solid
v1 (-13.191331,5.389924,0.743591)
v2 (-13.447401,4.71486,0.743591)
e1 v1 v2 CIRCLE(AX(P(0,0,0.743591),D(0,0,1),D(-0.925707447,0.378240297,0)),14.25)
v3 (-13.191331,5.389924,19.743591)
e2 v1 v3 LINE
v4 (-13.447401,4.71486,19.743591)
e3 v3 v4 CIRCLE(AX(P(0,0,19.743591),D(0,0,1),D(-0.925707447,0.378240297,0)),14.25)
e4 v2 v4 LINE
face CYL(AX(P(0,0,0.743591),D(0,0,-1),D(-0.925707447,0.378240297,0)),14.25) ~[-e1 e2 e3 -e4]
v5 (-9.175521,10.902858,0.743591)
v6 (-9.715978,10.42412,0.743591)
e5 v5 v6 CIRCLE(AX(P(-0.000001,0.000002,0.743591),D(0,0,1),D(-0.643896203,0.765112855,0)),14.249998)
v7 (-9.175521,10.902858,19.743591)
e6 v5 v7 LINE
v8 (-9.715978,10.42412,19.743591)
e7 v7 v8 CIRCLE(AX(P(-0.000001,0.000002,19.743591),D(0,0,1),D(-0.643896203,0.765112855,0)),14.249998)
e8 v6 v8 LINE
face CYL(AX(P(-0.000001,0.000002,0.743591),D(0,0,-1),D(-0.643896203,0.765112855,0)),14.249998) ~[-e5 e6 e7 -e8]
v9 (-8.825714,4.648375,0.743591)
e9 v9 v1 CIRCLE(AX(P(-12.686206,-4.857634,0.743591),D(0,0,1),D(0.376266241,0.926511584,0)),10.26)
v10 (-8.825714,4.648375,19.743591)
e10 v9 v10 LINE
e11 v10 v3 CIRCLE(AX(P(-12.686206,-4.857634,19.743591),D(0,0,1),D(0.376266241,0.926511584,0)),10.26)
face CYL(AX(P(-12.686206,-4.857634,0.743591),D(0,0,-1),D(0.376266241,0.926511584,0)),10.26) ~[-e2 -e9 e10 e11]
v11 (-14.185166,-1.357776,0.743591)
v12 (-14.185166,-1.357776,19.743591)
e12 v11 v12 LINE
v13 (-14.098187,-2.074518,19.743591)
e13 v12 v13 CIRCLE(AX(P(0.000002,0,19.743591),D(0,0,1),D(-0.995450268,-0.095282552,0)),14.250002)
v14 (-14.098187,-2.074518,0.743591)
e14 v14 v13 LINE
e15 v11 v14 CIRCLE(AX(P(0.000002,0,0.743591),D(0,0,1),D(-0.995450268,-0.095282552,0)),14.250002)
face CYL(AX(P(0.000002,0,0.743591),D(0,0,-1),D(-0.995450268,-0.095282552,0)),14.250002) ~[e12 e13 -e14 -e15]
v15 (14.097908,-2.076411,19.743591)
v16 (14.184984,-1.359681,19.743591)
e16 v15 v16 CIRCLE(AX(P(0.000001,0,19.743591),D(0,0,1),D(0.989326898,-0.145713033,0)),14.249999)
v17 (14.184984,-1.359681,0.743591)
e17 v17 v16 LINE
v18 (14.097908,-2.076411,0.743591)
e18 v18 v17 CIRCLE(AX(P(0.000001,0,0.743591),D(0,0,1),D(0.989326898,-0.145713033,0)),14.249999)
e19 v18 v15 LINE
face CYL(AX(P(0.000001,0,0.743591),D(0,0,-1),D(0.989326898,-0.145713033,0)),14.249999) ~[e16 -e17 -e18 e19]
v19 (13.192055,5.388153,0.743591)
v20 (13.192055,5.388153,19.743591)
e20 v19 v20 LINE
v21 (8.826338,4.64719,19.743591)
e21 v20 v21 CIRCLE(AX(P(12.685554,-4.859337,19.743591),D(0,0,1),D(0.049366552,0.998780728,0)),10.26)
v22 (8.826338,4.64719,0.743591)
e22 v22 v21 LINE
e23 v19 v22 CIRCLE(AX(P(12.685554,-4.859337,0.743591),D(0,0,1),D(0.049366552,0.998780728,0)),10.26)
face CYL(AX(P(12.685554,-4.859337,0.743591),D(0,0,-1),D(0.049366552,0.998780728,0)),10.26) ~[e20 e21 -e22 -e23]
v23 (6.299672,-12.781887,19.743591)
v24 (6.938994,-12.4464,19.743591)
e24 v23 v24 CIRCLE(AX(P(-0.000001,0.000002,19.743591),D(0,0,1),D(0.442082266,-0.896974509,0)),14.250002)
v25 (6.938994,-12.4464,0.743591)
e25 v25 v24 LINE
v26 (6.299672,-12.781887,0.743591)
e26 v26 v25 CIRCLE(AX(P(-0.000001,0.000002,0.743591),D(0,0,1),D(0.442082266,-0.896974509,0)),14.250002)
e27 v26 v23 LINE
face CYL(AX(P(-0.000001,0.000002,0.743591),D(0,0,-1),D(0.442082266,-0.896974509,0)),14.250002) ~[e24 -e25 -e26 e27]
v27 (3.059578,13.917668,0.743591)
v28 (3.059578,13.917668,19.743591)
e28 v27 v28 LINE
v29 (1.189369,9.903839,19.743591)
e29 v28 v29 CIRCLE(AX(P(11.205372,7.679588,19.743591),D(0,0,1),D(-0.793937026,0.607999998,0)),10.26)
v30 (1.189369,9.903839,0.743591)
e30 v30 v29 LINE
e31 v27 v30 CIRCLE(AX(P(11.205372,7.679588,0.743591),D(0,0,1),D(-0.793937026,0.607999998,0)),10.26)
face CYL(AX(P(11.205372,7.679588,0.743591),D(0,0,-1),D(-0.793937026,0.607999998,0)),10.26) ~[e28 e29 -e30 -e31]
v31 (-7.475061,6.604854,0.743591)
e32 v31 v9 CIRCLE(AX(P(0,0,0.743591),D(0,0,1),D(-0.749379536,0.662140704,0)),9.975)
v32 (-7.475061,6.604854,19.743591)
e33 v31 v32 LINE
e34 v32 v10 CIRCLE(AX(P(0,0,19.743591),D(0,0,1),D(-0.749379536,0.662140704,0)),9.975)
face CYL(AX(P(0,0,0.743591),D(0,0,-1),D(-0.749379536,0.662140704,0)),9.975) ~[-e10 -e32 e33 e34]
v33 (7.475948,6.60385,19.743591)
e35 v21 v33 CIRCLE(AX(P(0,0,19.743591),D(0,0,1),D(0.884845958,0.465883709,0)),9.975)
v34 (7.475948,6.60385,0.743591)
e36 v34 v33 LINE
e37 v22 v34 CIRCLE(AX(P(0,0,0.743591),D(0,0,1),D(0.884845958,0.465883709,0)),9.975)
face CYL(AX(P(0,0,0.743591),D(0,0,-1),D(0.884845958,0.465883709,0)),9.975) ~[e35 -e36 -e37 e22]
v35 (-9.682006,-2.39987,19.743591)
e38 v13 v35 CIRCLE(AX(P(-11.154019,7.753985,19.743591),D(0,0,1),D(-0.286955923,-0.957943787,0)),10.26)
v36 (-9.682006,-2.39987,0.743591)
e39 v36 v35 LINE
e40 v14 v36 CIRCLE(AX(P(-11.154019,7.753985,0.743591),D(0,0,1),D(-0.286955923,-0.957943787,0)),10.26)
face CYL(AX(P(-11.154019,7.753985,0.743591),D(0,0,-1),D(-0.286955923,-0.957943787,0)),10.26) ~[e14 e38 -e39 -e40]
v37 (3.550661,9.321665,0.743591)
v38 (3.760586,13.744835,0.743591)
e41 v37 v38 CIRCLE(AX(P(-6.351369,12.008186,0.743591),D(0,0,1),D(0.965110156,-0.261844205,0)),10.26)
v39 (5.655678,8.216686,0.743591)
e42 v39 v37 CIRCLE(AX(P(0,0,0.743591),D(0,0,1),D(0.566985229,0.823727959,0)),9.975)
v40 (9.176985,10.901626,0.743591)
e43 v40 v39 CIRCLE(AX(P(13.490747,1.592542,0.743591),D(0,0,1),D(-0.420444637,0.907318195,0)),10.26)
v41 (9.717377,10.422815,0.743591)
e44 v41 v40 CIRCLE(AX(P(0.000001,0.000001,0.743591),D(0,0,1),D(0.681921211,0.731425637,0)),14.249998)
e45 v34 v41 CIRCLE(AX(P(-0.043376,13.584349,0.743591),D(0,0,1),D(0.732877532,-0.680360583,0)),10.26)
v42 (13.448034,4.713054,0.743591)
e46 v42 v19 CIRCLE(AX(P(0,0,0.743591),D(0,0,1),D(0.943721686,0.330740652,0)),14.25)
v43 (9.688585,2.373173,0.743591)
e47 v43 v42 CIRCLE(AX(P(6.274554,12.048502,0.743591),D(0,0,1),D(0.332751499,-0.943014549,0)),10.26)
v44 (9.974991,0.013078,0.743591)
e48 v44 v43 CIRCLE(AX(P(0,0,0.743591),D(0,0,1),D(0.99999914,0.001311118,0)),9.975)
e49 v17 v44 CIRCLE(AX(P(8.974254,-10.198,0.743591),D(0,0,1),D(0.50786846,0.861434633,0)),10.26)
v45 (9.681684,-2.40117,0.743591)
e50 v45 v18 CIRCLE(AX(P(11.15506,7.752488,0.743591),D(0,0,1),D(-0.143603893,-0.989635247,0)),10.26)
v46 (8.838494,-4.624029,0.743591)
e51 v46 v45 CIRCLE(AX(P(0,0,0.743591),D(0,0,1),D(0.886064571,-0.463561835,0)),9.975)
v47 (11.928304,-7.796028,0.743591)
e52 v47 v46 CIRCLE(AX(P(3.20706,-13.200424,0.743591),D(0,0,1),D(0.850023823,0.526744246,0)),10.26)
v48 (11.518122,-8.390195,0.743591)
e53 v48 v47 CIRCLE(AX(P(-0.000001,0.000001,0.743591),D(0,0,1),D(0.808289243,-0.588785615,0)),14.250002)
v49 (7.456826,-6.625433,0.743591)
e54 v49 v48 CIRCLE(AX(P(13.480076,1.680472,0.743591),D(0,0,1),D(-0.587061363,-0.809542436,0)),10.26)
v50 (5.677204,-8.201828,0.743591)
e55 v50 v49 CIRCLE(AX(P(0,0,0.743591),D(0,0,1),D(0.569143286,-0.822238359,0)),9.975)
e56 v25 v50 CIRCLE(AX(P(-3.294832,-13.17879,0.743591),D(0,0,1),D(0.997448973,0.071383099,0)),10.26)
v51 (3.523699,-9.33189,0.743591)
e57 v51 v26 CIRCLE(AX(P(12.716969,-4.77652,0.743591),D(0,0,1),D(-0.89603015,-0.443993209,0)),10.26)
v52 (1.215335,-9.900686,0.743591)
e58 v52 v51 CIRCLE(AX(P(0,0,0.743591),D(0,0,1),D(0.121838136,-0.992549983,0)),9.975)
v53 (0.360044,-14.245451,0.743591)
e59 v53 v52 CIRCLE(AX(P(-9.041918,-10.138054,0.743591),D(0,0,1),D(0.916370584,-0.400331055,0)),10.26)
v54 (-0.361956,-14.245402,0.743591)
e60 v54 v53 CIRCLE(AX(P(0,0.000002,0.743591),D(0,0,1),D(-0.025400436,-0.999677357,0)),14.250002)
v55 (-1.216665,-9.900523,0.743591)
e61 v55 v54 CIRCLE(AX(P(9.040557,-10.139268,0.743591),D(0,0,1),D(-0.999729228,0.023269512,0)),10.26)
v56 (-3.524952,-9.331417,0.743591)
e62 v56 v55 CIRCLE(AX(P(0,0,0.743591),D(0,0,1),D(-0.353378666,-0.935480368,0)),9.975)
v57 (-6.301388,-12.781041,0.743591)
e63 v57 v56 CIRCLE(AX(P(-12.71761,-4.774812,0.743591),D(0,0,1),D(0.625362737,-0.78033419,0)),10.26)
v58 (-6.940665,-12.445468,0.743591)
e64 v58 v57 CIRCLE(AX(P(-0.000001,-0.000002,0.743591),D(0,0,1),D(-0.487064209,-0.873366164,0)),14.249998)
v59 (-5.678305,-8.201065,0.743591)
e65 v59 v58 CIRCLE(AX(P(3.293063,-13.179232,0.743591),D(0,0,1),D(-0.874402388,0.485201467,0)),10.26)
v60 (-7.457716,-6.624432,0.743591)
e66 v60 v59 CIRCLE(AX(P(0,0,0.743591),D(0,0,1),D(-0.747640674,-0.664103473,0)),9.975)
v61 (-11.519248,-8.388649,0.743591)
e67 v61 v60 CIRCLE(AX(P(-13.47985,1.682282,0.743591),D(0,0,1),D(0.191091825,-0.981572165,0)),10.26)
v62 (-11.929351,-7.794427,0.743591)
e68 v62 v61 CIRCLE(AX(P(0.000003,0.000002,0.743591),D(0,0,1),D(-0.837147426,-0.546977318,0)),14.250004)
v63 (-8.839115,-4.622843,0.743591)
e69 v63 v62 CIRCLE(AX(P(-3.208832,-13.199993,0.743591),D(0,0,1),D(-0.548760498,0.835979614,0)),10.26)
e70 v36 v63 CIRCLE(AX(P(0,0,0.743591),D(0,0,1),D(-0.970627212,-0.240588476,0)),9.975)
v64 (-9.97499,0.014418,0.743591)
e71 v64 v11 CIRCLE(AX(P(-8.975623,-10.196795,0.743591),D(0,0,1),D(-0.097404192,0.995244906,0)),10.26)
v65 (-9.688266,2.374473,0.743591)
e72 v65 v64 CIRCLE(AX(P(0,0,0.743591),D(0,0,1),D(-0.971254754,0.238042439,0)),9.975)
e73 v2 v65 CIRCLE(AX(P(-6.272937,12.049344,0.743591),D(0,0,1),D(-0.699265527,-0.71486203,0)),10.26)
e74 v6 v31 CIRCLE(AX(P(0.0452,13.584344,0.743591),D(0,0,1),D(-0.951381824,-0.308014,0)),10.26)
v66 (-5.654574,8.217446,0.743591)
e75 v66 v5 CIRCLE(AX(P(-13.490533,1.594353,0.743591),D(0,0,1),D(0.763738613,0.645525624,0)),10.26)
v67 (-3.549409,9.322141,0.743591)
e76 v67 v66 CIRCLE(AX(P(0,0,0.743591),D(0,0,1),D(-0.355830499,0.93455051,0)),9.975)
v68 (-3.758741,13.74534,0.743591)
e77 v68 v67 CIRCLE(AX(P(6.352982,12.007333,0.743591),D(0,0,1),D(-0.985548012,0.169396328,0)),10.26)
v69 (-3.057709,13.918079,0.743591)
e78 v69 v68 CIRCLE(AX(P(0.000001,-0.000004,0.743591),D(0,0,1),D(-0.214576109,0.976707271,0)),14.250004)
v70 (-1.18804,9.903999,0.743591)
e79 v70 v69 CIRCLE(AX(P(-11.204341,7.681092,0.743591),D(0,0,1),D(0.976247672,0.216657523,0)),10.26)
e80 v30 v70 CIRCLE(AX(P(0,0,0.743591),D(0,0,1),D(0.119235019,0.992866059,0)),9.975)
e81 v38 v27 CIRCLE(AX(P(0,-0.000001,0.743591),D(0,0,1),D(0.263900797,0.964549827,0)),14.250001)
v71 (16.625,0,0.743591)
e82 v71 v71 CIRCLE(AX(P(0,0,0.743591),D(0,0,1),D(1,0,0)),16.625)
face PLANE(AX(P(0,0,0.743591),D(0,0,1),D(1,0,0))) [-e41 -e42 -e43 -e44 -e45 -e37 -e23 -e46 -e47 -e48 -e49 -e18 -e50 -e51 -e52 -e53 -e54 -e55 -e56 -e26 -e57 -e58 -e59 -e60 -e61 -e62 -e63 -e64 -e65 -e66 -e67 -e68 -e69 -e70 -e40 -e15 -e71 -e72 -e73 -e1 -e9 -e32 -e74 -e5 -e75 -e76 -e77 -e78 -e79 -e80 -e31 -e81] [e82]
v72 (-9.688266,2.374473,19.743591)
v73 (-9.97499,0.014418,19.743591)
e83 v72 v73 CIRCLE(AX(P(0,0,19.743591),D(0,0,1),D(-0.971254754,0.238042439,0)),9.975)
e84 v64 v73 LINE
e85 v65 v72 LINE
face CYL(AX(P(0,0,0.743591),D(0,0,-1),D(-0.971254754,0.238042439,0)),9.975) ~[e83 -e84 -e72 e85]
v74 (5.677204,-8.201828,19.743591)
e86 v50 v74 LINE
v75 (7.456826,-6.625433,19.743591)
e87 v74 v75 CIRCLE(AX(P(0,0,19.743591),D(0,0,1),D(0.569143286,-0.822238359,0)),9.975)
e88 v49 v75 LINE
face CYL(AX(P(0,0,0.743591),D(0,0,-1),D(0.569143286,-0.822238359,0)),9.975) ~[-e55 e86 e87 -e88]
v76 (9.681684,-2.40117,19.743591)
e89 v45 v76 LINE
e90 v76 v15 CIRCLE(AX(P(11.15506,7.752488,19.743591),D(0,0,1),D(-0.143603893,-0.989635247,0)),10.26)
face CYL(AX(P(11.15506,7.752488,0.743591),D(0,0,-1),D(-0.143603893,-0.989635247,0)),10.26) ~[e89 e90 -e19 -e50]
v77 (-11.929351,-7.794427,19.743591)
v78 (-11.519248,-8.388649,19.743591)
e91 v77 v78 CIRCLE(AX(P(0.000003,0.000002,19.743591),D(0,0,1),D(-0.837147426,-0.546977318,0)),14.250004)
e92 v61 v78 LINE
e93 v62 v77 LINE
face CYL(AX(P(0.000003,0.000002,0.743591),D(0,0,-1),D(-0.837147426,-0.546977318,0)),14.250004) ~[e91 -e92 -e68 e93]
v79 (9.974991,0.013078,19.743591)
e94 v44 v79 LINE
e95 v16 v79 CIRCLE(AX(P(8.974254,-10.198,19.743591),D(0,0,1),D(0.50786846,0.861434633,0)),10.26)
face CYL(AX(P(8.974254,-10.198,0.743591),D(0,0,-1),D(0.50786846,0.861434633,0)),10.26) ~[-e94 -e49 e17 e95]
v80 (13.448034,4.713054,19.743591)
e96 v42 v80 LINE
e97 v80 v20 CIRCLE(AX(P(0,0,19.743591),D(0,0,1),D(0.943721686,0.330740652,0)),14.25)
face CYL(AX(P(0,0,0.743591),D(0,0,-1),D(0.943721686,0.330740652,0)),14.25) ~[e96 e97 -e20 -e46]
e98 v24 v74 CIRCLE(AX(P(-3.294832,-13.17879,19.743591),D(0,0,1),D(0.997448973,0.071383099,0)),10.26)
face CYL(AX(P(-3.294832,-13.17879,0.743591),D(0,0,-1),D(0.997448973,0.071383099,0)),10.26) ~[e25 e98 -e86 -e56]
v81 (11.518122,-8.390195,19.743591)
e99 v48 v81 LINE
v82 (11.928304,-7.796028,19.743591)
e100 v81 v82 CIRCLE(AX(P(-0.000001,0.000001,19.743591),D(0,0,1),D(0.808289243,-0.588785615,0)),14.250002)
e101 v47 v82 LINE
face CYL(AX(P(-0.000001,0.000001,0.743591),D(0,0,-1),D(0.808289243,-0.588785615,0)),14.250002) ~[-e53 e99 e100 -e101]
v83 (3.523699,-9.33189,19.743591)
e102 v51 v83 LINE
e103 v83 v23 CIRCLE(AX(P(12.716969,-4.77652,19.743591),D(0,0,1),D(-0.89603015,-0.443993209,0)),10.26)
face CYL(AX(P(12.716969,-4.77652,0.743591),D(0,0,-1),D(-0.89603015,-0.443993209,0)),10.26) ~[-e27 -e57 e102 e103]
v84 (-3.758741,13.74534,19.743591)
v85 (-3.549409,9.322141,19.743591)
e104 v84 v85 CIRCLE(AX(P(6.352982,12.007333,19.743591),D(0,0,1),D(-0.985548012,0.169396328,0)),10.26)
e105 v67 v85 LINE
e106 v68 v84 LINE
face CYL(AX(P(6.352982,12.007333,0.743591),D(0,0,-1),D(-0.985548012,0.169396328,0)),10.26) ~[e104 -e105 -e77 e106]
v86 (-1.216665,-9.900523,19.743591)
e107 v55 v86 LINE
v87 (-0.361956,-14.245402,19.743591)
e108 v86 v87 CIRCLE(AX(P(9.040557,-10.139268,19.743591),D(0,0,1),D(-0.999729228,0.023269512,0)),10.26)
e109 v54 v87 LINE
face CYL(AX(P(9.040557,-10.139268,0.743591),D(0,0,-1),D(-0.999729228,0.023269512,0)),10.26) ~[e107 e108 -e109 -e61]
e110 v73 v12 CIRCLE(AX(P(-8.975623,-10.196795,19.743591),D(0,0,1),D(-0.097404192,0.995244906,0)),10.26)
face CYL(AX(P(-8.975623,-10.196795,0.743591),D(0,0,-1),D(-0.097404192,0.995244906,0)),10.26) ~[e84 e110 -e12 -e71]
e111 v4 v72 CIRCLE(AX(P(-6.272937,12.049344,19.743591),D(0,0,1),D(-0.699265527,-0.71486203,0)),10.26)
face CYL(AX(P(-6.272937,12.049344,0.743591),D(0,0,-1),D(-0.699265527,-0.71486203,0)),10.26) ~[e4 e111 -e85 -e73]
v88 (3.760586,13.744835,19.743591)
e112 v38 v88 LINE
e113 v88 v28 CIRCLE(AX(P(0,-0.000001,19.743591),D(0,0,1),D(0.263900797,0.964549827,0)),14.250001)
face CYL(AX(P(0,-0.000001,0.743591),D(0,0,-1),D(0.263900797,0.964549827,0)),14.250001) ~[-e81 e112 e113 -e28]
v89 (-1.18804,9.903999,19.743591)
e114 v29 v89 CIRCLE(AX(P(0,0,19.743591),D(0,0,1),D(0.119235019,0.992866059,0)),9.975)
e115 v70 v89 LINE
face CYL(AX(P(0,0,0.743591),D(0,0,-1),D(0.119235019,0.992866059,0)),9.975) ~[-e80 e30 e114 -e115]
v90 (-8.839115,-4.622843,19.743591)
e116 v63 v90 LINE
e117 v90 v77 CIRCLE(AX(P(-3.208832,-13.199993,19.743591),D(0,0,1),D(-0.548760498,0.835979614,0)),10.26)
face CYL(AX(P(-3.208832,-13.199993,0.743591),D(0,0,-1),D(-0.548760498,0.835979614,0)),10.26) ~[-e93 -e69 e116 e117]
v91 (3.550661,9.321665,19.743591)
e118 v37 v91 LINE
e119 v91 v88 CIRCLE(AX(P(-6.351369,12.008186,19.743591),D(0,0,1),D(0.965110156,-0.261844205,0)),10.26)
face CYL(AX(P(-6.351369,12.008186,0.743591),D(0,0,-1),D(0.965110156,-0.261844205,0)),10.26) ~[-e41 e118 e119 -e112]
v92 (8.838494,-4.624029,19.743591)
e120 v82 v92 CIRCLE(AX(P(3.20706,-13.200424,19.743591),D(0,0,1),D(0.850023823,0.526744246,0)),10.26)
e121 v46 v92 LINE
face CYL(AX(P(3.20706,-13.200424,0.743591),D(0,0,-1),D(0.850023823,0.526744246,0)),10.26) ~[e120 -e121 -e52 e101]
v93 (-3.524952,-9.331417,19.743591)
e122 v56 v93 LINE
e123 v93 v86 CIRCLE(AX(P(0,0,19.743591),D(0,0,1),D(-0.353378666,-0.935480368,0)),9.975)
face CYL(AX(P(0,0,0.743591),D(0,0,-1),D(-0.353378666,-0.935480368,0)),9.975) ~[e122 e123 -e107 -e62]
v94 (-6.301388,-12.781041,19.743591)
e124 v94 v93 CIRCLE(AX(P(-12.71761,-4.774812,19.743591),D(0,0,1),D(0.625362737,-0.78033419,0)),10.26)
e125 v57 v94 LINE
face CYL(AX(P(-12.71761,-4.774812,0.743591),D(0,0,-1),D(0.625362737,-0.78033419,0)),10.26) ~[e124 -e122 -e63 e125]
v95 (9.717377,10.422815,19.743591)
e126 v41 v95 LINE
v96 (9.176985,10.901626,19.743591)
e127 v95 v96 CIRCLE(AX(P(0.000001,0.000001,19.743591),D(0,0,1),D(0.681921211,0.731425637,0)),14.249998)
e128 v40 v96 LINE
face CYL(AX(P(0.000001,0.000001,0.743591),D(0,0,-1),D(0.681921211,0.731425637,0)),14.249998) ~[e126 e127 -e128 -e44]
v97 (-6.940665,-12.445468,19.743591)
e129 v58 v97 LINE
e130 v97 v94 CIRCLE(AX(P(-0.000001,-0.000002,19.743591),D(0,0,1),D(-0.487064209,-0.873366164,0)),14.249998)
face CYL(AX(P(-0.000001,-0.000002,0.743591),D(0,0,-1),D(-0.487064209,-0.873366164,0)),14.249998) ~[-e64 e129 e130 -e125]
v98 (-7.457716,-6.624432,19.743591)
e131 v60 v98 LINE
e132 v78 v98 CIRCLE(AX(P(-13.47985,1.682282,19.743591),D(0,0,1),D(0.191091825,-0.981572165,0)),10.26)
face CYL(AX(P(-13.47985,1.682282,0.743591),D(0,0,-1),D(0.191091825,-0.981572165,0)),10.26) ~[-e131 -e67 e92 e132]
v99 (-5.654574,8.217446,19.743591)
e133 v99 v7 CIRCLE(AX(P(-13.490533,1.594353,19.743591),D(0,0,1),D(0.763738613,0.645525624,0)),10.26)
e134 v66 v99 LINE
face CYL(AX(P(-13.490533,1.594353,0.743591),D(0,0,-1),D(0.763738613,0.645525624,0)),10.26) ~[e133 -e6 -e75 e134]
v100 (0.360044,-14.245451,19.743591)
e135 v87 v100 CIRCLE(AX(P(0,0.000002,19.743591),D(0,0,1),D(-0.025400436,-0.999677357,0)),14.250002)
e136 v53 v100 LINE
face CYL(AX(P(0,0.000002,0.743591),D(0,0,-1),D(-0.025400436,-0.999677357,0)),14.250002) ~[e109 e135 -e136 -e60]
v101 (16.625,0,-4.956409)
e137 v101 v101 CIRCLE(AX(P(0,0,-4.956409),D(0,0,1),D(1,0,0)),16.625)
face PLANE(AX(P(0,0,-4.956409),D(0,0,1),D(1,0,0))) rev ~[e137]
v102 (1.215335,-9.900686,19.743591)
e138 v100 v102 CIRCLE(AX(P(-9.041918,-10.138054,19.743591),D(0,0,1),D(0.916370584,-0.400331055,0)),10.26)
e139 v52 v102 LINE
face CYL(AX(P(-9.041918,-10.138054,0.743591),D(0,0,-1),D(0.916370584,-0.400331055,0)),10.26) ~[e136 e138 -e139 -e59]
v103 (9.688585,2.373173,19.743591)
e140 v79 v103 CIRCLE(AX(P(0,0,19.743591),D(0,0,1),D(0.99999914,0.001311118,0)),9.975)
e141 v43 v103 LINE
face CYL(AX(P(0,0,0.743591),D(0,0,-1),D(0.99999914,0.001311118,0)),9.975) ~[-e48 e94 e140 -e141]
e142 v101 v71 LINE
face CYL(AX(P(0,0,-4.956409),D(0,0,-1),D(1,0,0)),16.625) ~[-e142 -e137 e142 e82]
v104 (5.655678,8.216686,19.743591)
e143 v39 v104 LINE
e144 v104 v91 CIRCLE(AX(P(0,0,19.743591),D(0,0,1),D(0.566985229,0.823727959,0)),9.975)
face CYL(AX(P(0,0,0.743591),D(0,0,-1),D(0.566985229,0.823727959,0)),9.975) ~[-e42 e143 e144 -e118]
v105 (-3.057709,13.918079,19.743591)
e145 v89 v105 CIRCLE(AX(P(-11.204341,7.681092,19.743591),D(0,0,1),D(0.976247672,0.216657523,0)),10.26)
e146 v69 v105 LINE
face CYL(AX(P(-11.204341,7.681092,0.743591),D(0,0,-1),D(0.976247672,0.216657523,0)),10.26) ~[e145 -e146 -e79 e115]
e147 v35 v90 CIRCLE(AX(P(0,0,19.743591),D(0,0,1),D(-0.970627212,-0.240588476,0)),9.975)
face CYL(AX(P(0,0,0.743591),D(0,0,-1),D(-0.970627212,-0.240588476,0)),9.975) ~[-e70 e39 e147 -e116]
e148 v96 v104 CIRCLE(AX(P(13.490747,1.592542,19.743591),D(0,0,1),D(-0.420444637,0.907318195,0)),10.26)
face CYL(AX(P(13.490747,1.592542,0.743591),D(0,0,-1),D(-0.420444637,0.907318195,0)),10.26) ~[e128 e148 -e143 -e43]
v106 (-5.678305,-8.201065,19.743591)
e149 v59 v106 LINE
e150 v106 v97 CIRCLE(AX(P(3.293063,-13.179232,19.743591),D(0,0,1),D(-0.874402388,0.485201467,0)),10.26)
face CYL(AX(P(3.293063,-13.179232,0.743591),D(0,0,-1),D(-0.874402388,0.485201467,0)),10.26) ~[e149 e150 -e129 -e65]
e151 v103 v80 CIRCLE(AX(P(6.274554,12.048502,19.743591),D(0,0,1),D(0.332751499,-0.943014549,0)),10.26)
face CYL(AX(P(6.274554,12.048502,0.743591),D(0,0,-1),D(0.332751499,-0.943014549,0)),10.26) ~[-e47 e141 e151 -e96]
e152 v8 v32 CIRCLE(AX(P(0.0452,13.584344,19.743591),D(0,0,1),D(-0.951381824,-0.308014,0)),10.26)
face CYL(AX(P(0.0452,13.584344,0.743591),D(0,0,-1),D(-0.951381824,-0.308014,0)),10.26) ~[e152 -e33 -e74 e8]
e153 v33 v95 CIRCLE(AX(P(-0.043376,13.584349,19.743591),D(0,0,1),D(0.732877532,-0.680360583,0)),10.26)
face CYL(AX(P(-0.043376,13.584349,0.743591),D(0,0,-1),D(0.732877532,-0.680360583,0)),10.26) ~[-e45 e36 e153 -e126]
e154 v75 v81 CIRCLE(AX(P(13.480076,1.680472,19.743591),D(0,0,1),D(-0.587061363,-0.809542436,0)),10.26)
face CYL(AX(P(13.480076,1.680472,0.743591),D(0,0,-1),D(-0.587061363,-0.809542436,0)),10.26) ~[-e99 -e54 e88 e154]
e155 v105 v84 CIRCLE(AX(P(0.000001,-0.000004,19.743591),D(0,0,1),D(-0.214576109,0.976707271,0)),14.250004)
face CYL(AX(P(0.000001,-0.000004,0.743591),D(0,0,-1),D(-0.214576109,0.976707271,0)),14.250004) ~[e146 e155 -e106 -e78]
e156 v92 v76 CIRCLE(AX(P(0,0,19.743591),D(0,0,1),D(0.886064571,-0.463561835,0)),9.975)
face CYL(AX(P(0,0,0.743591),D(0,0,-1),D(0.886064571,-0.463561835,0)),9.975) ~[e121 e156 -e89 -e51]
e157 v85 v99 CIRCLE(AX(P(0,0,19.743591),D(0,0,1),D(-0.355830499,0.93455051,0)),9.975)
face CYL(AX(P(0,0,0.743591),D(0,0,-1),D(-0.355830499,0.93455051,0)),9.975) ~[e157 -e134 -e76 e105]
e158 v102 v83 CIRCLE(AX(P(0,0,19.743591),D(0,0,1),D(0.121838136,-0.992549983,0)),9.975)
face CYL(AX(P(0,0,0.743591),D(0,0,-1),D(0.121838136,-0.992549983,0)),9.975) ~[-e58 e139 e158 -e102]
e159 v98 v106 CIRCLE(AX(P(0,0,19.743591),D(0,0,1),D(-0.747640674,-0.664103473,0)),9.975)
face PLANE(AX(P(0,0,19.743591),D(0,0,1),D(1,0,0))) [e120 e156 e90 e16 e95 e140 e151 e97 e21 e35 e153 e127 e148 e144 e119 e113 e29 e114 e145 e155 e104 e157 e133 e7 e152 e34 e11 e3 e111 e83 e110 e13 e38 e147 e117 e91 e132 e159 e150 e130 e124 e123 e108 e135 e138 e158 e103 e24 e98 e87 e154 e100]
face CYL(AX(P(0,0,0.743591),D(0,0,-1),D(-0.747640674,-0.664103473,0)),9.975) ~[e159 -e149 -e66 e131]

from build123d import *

# Parameters (mm, degrees)
SKETCH1_R           = 8.75
BOSS_EXTRUDE1_DEPTH = 3
BOSS_EXTRUDE2_DEPTH = 10
SCALE1_SCALE        = 1.9


with BuildPart() as part:
    # Sketch1 → Boss-Extrude1 (new body)
    with BuildSketch(Plane.XY):
        Circle(SKETCH1_R)
    extrude(amount=BOSS_EXTRUDE1_DEPTH)

    # Sketch2 → Boss-Extrude2 (add)
    with BuildSketch(Plane.XY.offset(3)):
        with BuildLine():
            ThreePointArc((4.829991895, 5.737697996), (3.826186326, 5.132311911), (2.976672459, 4.324571779))
            ThreePointArc((2.976672459, 4.324571779), (2.440108702, 4.648480345), (1.868768811, 4.906139331))
            ThreePointArc((1.868768811, 4.906139331), (2.051102492, 6.064099762), (1.979255999, 7.234123699))
            ThreePointArc((1.979255999, 7.234123699), (1.795356309, 7.281943128), (1.610304214, 7.325088418))
            ThreePointArc((1.610304214, 7.325088418), (1.002815466, 6.322553954), (0.62598385, 5.212546807))
            ThreePointArc((0.62598385, 5.212546807), (0.000352422, 5.249999988), (-0.625284028, 5.212630803))
            ThreePointArc((-0.625284028, 5.212630803), (-1.001966616, 6.322688531), (-1.609320762, 7.325304546))
            ThreePointArc((-1.609320762, 7.325304546), (-1.794378647, 7.2821841), (-1.978284756, 7.234389361))
            ThreePointArc((-1.978284756, 7.234389361), (-2.050288332, 6.06437508), (-1.868110115, 4.90639018))
            ThreePointArc((-1.868110115, 4.90639018), (-2.439484593, 4.648807903), (-2.976091832, 4.324971377))
            ThreePointArc((-2.976091832, 4.324971377), (-3.825497247, 5.132825554), (-4.82922153, 5.738346401))
            ThreePointArc((-4.82922153, 5.738346401), (-4.97304308, 5.614164455), (-5.113672529, 5.486378884))
            ThreePointArc((-5.113672529, 5.486378884), (-4.633695781, 4.41692096), (-3.934242565, 3.476238691))
            ThreePointArc((-3.934242565, 3.476238691), (-4.320465088, 2.982629951), (-4.645112863, 2.44651313))
            ThreePointArc((-4.645112863, 2.44651313), (-5.772652562, 2.7670941), (-6.942805845, 2.83680225))
            ThreePointArc((-6.942805845, 2.83680225), (-7.012443275, 2.66000739), (-7.077579552, 2.481505124))
            ThreePointArc((-7.077579552, 2.481505124), (-6.15557937, 1.757603477), (-5.099087457, 1.249722811))
            ThreePointArc((-5.099087457, 1.249722811), (-5.211679097, 0.633167423), (-5.249994516, 0.007588209))
            ThreePointArc((-5.249994516, 0.007588209), (-6.397362742, -0.232545265), (-7.46587701, -0.71461911))
            ThreePointArc((-7.46587701, -0.71461911), (-7.445377224, -0.90352531), (-7.420098394, -1.091851556))
            ThreePointArc((-7.420098394, -1.091851556), (-6.267293907, -1.304359781), (-5.095792863, -1.263089504))
            ThreePointArc((-5.095792863, -1.263089504), (-4.908960234, -1.861346132), (-4.652165695, -2.43307508))
            ThreePointArc((-4.652165695, -2.43307508), (-5.556514215, -3.178911313), (-6.278605726, -4.102329843))
            ThreePointArc((-6.278605726, -4.102329843), (-6.172664978, -4.260071251), (-6.062762116, -4.415078202))
            ThreePointArc((-6.062762116, -4.415078202), (-4.94324694, -4.067509932), (-3.925113535, -3.486543236))
            ThreePointArc((-3.925113535, -3.486543236), (-3.48165774, -3.92944772), (-2.988581778, -4.316350189))
            ThreePointArc((-2.988581778, -4.316350189), (-3.442735244, -5.397027088), (-3.652981535, -6.550246247))
            ThreePointArc((-3.652981535, -6.550246247), (-3.485869574, -6.640686208), (-3.316520101, -6.726863639))
            ThreePointArc((-3.316520101, -6.726863639), (-2.486761671, -5.898842577), (-1.855237999, -4.91127193))
            ThreePointArc((-1.855237999, -4.91127193), (-1.256749416, -5.09736019), (-0.640349792, -5.210801488))
            ThreePointArc((-0.640349792, -5.210801488), (-0.540267119, -6.378748999), (-0.190503298, -7.497580176))
            ThreePointArc((-0.190503298, -7.497580176), (-0.00050346, -7.499999983), (0.189496701, -7.497605685))
            ThreePointArc((0.189496701, -7.497605685), (0.539410728, -6.378821476), (0.639650205, -5.210887412))
            ThreePointArc((0.639650205, -5.210887412), (1.256065053, -5.09752887), (1.854578614, -4.911520962))
            ThreePointArc((1.854578614, -4.911520962), (2.485969693, -5.899176387), (3.315616949, -6.727308842))
            ThreePointArc((3.315616949, -6.727308842), (3.48497799, -6.641154147), (3.652102092, -6.550736623))
            ThreePointArc((3.652102092, -6.550736623), (3.44201063, -5.397489248), (2.988002255, -4.316751385))
            ThreePointArc((2.988002255, -4.316751385), (3.481130156, -3.929915118), (3.92464541, -3.487070175))
            ThreePointArc((3.92464541, -3.487070175), (4.942700807, -4.068173557), (6.06216931, -4.415892125))
            ThreePointArc((6.06216931, -4.415892125), (6.172092982, -4.260899931), (6.278054907, -4.103172747))
            ThreePointArc((6.278054907, -4.103172747), (5.556087377, -3.17965728), (4.651838998, -2.433699639))
            ThreePointArc((4.651838998, -2.433699639), (4.908710292, -1.862005173), (5.09562324, -1.263773634))
            ThreePointArc((5.09562324, -1.263773634), (6.267118732, -1.305201192), (7.41995174, -1.092847739))
            ThreePointArc((7.41995174, -1.092847739), (7.445255854, -0.904524889), (7.465781001, -0.715621443))
            ThreePointArc((7.465781001, -0.715621443), (6.397331464, -0.233404148), (5.249995488, 0.006883365))
            ThreePointArc((5.249995488, 0.006883365), (5.211764057, 0.632467717), (5.099255194, 1.249038216))
            ThreePointArc((5.099255194, 1.249038216), (6.155815283, 1.756777037), (7.077912646, 2.480554893))
            ThreePointArc((7.077912646, 2.480554893), (7.012800334, 2.659065903), (6.94318664, 2.83587011))
            ThreePointArc((6.94318664, 2.83587011), (5.773024009, 2.766319061), (4.64544128, 2.445889473))
            ThreePointArc((4.64544128, 2.445889473), (4.320865485, 2.982049876), (3.934709236, 3.475710464))
            ThreePointArc((3.934709236, 3.475710464), (4.634288738, 4.416298818), (5.114409063, 5.485692293))
            ThreePointArc((5.114409063, 5.485692293), (4.973796771, 5.613496743), (4.829991895, 5.737697996))
        make_face()
    extrude(amount=BOSS_EXTRUDE2_DEPTH)


with BuildPart() as part_1:
    # Scale1: scaled about (0, 0, 5.507121535)
    add(part.part.scale(SCALE1_SCALE).moved(Location((0, 0, -4.956409381))))


solid = part_1.part
